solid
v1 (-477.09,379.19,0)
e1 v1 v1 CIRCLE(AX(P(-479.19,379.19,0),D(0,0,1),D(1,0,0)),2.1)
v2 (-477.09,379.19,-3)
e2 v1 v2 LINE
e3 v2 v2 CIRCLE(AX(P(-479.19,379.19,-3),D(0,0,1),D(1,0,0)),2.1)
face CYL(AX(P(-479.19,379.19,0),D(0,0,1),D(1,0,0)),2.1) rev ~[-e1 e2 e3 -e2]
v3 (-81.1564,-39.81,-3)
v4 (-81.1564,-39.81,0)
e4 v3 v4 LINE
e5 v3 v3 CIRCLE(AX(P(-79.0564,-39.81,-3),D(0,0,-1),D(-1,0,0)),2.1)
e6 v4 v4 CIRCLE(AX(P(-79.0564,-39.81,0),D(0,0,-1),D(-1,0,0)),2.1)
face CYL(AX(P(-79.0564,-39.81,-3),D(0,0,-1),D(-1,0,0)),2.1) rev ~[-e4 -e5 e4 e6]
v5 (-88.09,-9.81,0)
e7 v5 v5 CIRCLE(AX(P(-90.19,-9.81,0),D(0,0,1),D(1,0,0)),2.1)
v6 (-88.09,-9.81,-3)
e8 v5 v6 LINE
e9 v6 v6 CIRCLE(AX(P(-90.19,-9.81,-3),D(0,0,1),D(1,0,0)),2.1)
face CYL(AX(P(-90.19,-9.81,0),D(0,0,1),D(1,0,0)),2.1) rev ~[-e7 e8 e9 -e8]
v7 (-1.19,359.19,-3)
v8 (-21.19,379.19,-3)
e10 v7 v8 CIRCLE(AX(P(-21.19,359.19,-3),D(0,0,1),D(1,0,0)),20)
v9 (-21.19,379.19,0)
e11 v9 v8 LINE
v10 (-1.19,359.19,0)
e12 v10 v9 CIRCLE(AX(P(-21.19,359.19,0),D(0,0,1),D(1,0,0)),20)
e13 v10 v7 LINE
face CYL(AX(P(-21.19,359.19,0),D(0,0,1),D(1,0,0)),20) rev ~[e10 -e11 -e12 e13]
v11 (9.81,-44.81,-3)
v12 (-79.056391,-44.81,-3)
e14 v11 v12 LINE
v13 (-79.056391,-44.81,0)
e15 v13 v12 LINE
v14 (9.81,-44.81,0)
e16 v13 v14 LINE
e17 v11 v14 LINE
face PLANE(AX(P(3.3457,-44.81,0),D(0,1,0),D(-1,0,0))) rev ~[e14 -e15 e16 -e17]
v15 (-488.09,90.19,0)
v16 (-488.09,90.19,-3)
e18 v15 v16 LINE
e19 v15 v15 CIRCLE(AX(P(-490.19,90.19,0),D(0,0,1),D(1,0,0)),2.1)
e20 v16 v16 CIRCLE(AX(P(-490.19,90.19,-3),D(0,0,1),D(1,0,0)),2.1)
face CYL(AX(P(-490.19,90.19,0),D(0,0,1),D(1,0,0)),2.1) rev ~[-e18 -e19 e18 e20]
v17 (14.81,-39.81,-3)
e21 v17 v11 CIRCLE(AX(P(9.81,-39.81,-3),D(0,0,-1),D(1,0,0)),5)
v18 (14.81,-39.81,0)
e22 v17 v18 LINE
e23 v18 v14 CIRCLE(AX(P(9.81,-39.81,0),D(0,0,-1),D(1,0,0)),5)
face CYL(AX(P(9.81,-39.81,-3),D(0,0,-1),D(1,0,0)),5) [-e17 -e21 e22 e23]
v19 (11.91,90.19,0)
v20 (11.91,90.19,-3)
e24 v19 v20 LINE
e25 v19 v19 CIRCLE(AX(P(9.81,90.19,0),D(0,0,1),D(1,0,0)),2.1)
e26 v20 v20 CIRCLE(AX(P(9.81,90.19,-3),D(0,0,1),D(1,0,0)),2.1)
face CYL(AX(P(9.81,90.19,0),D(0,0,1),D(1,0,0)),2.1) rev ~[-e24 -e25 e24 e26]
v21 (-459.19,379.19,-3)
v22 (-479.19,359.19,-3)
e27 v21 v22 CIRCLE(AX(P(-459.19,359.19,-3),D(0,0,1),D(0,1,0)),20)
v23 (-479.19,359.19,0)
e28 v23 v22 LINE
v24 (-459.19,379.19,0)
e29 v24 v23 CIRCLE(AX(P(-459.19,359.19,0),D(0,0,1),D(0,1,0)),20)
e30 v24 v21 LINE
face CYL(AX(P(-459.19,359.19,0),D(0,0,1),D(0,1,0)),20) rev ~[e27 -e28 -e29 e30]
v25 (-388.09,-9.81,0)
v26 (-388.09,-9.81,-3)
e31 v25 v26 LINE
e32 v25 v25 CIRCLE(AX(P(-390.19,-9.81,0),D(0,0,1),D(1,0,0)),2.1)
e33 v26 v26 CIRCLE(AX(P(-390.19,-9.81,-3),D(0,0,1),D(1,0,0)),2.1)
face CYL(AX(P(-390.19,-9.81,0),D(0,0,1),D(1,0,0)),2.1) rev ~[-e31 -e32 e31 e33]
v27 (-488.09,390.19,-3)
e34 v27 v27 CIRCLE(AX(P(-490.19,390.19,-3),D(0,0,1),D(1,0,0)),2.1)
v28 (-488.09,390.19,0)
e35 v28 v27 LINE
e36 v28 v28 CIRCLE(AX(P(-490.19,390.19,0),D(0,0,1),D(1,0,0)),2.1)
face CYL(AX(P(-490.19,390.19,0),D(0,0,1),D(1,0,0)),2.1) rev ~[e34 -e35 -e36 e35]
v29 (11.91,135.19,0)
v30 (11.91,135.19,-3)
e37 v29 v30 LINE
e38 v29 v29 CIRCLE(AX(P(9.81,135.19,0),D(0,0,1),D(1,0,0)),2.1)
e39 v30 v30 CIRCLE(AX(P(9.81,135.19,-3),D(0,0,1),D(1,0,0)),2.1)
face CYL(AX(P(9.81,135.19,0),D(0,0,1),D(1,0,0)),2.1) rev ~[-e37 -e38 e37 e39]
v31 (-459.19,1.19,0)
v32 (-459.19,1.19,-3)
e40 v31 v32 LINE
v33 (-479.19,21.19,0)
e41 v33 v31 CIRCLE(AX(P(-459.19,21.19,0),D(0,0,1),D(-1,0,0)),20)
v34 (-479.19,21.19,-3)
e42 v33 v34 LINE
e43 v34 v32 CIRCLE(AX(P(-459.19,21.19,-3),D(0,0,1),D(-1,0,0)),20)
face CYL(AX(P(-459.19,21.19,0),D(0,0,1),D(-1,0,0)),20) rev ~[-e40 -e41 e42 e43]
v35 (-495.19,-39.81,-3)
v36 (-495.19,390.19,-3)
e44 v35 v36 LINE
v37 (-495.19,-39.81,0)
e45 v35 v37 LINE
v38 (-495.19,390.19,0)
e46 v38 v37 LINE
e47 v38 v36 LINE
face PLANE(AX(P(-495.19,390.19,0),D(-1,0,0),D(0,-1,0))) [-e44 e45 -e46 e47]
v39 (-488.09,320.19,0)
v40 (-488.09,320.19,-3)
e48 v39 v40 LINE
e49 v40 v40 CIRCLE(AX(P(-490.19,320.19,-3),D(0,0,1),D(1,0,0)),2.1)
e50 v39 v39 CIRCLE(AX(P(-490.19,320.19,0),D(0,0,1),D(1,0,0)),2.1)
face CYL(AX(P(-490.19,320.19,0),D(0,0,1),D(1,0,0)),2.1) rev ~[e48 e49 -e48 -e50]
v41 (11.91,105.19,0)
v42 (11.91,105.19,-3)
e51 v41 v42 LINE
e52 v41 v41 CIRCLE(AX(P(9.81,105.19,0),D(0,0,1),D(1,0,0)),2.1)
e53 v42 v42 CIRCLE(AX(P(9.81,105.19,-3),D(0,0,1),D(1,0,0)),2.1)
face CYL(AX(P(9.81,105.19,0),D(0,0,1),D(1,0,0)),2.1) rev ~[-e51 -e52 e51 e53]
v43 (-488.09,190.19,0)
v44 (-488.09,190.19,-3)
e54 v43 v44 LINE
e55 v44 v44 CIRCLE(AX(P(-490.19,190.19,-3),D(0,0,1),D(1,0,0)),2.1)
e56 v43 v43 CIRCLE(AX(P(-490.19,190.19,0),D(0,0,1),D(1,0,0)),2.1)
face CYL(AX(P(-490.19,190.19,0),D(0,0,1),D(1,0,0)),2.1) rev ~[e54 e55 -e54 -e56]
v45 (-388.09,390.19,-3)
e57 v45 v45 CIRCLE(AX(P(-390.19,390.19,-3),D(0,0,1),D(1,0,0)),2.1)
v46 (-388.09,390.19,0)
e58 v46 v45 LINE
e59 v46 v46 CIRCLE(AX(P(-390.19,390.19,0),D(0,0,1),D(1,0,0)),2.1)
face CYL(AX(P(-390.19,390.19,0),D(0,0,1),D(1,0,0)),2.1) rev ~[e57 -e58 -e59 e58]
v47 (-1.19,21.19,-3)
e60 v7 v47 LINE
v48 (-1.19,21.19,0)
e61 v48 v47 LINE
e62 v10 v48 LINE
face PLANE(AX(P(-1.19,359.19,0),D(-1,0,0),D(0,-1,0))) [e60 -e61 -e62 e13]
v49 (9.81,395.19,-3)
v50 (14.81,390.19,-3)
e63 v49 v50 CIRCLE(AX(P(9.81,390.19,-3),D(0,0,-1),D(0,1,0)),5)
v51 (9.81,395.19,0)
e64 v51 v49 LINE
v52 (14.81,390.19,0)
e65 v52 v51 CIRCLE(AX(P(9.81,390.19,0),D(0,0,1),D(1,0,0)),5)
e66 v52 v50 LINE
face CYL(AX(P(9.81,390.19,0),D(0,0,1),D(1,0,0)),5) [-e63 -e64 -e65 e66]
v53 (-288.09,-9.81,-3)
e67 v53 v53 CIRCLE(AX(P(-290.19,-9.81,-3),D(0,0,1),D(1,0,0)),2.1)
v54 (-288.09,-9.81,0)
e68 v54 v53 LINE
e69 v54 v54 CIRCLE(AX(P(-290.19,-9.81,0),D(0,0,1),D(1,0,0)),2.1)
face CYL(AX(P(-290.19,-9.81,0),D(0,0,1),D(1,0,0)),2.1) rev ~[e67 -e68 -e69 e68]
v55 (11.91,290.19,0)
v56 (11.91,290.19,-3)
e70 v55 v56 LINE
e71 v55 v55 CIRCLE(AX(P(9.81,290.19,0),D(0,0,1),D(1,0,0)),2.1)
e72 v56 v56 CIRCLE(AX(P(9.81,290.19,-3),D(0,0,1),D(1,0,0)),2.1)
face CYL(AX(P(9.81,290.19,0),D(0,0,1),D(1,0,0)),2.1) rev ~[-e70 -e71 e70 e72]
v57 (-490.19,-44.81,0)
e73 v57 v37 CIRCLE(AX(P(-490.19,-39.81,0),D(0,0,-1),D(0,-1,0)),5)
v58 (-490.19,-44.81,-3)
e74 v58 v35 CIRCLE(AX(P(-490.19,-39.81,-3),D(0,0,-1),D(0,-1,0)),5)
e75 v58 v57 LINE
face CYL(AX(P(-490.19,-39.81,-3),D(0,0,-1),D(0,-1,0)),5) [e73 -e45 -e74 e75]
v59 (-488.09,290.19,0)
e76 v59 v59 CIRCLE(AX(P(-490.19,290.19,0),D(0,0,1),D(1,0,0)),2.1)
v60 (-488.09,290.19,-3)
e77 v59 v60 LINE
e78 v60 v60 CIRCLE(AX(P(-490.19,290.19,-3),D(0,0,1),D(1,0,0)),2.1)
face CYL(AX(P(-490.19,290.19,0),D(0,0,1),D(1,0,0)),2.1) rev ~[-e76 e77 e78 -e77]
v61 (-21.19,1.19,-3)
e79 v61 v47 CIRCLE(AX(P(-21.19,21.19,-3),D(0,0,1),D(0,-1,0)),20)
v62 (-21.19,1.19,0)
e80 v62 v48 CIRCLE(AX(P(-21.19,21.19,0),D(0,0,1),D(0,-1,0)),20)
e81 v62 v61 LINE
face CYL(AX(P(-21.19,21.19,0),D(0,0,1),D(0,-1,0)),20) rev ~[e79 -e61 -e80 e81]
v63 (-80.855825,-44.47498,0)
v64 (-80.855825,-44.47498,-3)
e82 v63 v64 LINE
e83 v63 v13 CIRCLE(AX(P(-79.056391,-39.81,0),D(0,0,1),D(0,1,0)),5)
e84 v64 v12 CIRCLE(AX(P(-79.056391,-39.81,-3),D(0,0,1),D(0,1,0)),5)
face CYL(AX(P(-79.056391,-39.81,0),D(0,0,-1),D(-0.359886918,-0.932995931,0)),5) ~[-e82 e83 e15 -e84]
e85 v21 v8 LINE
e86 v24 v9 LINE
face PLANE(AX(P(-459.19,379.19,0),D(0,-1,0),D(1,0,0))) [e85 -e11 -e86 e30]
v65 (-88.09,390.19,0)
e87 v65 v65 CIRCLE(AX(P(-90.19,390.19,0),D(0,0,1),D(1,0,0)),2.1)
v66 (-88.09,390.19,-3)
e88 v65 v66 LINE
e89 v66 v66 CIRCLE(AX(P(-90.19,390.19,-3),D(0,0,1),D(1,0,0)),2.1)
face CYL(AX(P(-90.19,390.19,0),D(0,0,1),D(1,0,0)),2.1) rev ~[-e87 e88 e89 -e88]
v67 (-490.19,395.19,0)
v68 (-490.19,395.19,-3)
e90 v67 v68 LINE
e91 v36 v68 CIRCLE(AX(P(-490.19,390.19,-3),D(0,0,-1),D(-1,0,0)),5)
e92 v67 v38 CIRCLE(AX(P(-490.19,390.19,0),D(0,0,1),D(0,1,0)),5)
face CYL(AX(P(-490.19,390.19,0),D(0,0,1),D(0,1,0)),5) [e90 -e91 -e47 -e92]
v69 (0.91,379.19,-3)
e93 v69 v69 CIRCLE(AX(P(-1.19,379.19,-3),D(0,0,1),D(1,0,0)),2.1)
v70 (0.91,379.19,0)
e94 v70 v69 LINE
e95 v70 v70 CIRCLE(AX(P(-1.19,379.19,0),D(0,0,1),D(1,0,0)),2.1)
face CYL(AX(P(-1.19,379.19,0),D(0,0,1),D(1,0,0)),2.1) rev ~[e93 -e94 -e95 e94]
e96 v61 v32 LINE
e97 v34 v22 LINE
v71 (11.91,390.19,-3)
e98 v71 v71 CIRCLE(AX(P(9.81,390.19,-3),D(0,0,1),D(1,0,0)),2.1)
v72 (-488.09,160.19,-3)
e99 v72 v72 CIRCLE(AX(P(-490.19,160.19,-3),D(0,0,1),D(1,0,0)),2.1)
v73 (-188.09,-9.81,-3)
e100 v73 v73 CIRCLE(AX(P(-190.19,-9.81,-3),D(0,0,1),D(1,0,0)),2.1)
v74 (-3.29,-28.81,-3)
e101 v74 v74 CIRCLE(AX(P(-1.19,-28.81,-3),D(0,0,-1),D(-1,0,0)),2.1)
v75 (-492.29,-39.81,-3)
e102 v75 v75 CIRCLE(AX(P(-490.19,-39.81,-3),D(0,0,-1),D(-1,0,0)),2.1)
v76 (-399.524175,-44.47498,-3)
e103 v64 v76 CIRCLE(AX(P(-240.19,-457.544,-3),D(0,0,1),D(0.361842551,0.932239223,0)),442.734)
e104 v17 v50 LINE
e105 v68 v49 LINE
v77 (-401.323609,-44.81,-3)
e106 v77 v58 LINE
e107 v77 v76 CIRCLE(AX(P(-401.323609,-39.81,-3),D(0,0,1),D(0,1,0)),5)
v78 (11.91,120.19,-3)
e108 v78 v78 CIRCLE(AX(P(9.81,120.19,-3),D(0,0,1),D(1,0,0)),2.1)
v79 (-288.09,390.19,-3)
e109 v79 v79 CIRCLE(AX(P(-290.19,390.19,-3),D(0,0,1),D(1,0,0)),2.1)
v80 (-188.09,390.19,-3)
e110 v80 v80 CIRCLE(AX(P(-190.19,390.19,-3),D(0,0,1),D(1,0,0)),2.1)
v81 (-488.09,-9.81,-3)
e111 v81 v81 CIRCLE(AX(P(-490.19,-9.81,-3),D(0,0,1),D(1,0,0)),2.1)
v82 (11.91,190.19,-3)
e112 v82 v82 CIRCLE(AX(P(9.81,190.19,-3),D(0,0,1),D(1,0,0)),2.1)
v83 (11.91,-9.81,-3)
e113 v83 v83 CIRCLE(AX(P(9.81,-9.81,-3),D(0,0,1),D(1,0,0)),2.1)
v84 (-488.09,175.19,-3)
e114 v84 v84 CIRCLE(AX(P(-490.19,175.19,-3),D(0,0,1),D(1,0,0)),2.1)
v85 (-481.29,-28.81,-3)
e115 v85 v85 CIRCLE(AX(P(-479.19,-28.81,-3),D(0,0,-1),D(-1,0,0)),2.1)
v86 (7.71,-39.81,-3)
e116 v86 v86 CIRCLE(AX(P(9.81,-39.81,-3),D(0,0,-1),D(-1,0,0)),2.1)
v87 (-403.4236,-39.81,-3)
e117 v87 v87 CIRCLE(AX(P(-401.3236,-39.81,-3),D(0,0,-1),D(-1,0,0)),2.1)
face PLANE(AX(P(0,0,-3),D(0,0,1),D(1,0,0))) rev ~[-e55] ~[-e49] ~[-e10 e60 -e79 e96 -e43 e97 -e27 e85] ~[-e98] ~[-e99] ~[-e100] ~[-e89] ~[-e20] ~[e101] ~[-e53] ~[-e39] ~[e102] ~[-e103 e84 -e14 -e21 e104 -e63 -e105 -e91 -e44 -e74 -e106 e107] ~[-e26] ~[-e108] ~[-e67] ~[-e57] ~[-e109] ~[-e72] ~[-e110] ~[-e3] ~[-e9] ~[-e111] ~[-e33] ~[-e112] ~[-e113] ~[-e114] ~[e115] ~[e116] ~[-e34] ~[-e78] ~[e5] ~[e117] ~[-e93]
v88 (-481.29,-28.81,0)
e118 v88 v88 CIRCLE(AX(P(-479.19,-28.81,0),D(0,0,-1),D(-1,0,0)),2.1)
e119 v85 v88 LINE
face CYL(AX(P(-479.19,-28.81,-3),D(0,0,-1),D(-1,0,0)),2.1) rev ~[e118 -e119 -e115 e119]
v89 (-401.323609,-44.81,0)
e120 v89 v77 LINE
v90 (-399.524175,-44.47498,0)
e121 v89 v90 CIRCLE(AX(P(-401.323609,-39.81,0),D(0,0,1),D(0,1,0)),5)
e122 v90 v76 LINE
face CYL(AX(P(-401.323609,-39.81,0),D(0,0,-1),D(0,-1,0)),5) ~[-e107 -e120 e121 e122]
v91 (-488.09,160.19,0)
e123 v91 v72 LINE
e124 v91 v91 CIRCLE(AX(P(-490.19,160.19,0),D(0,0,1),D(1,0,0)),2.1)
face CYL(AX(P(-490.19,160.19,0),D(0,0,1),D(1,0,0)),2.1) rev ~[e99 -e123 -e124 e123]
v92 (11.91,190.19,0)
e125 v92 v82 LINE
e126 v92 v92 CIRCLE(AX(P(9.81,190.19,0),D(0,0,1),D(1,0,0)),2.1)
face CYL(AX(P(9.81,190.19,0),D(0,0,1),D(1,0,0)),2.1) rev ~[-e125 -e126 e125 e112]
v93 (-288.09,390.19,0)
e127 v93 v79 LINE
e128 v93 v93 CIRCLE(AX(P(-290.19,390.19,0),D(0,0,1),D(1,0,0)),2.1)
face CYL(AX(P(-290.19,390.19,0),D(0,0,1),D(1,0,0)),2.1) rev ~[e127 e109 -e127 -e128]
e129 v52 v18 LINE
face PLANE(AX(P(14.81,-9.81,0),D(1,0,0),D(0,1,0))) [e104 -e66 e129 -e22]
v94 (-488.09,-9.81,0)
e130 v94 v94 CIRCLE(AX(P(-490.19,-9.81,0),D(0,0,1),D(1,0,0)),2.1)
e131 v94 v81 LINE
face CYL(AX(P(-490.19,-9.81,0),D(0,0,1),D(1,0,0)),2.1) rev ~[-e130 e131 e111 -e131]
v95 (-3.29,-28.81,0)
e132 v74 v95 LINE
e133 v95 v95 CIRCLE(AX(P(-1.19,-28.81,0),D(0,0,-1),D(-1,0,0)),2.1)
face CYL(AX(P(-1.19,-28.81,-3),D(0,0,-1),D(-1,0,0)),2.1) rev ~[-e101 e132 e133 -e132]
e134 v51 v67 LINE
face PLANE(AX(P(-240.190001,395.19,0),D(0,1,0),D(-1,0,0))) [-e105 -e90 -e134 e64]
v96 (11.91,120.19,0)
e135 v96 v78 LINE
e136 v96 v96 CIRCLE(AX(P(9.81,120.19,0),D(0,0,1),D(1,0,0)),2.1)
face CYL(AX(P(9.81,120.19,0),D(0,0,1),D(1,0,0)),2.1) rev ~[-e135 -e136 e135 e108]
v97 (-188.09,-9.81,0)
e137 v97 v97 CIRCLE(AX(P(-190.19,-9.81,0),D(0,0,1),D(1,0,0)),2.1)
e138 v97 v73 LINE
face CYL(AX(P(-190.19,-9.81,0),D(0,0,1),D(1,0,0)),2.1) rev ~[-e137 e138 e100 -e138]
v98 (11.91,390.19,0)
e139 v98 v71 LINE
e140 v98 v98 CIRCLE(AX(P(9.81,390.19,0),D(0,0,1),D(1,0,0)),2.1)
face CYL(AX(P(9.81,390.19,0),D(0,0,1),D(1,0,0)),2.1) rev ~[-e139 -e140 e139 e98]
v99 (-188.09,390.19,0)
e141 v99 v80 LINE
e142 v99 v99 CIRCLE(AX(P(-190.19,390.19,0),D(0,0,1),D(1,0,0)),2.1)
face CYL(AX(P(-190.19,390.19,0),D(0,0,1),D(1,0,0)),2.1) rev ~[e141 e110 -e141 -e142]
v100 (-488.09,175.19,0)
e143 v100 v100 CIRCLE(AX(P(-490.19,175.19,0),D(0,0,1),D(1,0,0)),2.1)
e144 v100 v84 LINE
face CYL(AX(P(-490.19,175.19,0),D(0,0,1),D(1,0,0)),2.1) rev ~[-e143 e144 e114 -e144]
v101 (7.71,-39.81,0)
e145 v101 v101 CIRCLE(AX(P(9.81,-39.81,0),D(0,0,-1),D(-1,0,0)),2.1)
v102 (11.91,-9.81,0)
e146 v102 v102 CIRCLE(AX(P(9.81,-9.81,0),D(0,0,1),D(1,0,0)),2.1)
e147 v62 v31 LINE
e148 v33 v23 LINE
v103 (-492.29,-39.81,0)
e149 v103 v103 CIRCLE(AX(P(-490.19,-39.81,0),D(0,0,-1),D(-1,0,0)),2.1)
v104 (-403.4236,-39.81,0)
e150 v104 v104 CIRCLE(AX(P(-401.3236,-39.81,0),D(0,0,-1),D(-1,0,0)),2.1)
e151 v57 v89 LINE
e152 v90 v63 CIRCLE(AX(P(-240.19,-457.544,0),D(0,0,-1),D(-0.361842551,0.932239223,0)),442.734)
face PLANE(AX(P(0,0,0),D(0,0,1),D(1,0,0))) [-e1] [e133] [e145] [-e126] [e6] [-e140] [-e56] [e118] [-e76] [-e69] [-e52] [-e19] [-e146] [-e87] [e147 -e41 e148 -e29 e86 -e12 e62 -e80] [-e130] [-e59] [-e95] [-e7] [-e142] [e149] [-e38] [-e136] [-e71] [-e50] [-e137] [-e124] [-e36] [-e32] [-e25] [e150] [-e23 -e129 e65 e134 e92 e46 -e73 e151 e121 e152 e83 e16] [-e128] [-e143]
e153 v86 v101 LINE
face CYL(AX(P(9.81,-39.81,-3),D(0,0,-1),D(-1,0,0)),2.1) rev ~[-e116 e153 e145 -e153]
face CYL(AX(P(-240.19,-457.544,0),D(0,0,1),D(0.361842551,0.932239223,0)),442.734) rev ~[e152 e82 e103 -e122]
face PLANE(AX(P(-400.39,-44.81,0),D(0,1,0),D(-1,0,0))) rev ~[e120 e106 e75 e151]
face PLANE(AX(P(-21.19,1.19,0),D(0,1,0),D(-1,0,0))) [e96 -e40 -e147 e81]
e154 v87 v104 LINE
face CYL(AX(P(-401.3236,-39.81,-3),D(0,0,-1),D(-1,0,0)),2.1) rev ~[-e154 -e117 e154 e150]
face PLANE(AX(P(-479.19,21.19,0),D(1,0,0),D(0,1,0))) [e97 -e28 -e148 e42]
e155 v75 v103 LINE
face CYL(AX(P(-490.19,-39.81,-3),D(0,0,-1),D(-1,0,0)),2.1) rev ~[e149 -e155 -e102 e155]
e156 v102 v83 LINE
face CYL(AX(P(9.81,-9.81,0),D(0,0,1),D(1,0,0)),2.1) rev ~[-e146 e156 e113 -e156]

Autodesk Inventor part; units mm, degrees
ref_plane "YZ Plane" through (0, 0, 0) normal (1, 0, 0) x (0, 1, 0)
ref_plane "XZ Plane" through (0, 0, 0) normal (0, 1, 0) x (-1, 0, 0)
ref_plane "XY Plane" through (0, 0, 0) normal (0, 0, 1) x (1, 0, 0)
sketch "スケッチ1" plane through (0, 0, 0) normal (0, 0, 1) x (1, 0, 0)
  circle A0 centre (-490.19, 90.19) radius 2.1 projected
  circle A1 centre (-490.19, 290.19) radius 2.1 projected
  circle A2 centre (-190.19, 390.19) radius 2.1 projected
  circle A3 centre (-390.19, 390.19) radius 2.1 projected
  circle A4 centre (-290.19, -9.81) radius 2.1 projected
  circle A5 centre (-90.19, -9.81) radius 2.1 projected
  circle A6 centre (9.81, 190.19) radius 2.1 projected
  circle A7 centre (9.81, 390.19) radius 2.1 projected
  circle A8 centre (-490.19, -9.81) radius 2.1 projected
  circle A9 centre (-233.68, 12.7) radius 1.6 construction
  circle A10 centre (-29.21, 294.64) radius 1.6 construction
  circle A11 centre (-161.29, 294.64) radius 1.6 construction
  circle A12 centre (-233.68, 294.64) radius 1.6 construction
  circle A13 centre (-233.68, 137.16) radius 1.6 construction
  circle A14 centre (-161.29, 137.16) radius 1.6 construction
  circle A15 centre (-6.35, 137.16) radius 1.6 construction
  circle A16 centre (-6.35, 12.7) radius 1.6 construction
  circle A17 centre (-161.29, 12.7) radius 1.6 construction
  circle A18 centre (9.81, -9.81) radius 2.1 projected
  circle A19 centre (-490.19, 390.19) radius 2.1 projected
  circle A20 centre (9.81, 290.19) radius 2.1 projected
  circle A21 centre (9.81, 90.19) radius 2.1
  circle A22 centre (-190.19, -9.81) radius 2.1 projected
  circle A23 centre (-390.19, -9.81) radius 2.1 projected
  circle A24 centre (-290.19, 390.19) radius 2.1 projected
  circle A25 centre (-90.19, 390.19) radius 2.1 projected
  circle A26 centre (-490.19, 190.19) radius 2.1 projected
  line L0 (-21.19, 1.19) -> (-459.19, 1.19)
  line L1 (-479.19, 21.19) -> (-479.19, 359.19)
  line L2 (-459.19, 379.19) -> (-21.19, 379.19)
  line L3 (-1.19, 359.19) -> (-1.19, 21.19)
  circle A27 centre (9.81, -9.81) radius 5
  circle A28 centre (9.81, -9.81) radius 15.5563 construction
  line L4 (9.81, -9.81) -> (-1.19, 1.19) construction
  line L5 (9.81, -9.81) -> (25.3663, -9.81) construction
  circle A29 centre (-1.19, 1.19) radius 5 construction
  circle A30 centre (-1.19, 1.19) radius 2.1
  line L6 (-240.19, 1.19) -> (-240.19, 379.19) construction
  line L7 (-1.19, 190.19) -> (-479.19, 190.19) construction
  circle A31 centre (-1.19, 379.19) radius 2.1
  circle A32 centre (-479.19, 1.19) radius 2.1
  circle A33 centre (-479.19, 379.19) radius 2.1
  arc A34 (-1.19, 359.19) -> (-21.19, 379.19) centre (-21.19, 359.19) ccw
  arc A35 (-459.19, 379.19) -> (-479.19, 359.19) centre (-459.19, 359.19) ccw
  arc A36 (-479.19, 21.19) -> (-459.19, 1.19) centre (-459.19, 21.19) ccw
  arc A37 (-21.19, 1.19) -> (-1.19, 21.19) centre (-21.19, 21.19) ccw
  line L8 (9.81, -4.81) -> (-11.2166, -4.81) construction
  arc A38 (-483.7257, 425.19) -> (-483.7257, -44.81) centre (161.4767, 190.19) ccw projected
  line L9 (-483.7257, 425.19) -> (-379.99, 425.19) projected
  arc A39 (-379.99, 425.19) -> (-100.39, 425.19) centre (-240.19, 735.924) ccw projected
  line L10 (-100.39, 425.19) -> (3.3457, 425.19) projected
  arc A40 (3.3457, -44.81) -> (3.3457, 425.19) centre (-641.8567, 190.19) ccw projected
  line L11 (3.3457, -44.81) -> (-79.99, -44.81) projected
  arc A41 (-79.99, -44.81) -> (-400.39, -44.81) centre (-240.19, -457.544) ccw projected
  line L12 (-400.39, -44.81) -> (-483.7257, -44.81) projected
  arc A42 (14.81, 390.19) -> (9.81, 395.19) centre (9.81, 390.19) ccw
  line L13 (9.81, 395.19) -> (-490.19, 395.19)
  line L14 (14.81, -9.81) -> (14.81, 390.19)
  arc A43 (9.81, -14.81) -> (14.81, -9.81) centre (9.81, -9.81) ccw construction
  line L15 (-490.19, -14.81) -> (9.81, -14.81)
  arc A44 (-495.19, -9.81) -> (-490.19, -14.81) centre (-490.19, -9.81) ccw
  line L16 (-495.19, 390.19) -> (-495.19, -9.81)
  arc A45 (-490.19, 395.19) -> (-495.19, 390.19) centre (-490.19, 390.19) ccw
  point P0 (0, 0)
  point P1 (-1.19, 1.19)
  point P2 (-479.19, 379.19)
  point P3 (-479.19, 1.19)
  point P4 (-1.19, 379.19)
  point P5 (14.59, -11.277)
  point P6 (-494.97, 391.657)
  point P7 (-494.97, -11.277)
  dimension "d4" = 31.1127
  dimension "d5" = 135
  dimension "d6" = 10
  dimension "d10" = 20
  dimension "d11" = 6
  dimension "d14" = 11
  dimension "d15" = 11
  dimension "d16" = 11
  dimension "d17" = 11
  dimension "d18" = 11
  dimension "d30" = 100
extrude "押し出し1" add sketch "スケッチ1" against normal blind 3 contours A27 | A27 L15 A44 L16 A45 L13 A42 L14 | A27 A40 L11 A41 L15 | A41 L12 A38 A44 L15 | A30 | A32
sketch "スケッチ3" plane through (0, 0, -3) normal (0, 0, -1) x (-1, 0, 0)
  arc A0 (-14.81, -9.81) -> (-14.59, -11.277) centre (-9.81, -9.81) ccw projected
  arc A1 (-14.59, -11.277) -> (-3.3457, -44.81) centre (641.8567, 190.19) ccw projected
  arc A2 (483.7257, -44.81) -> (494.97, -11.277) centre (-161.4767, 190.19) ccw projected
  arc A3 (494.97, -11.277) -> (495.19, -9.81) centre (490.19, -9.81) ccw projected
  line L0 (-14.81, -9.81) -> (-14.81, -39.81)
  arc A4 (-14.81, -39.81) -> (-9.81, -44.81) centre (-9.81, -39.81) ccw
  line L1 (79.99, -44.81) -> (-3.3457, -44.81) projected
  line L2 (-9.81, -44.81) -> (-3.3457, -44.81)
  line L3 (495.19, -9.81) -> (495.19, -39.81)
  arc A5 (490.19, -44.81) -> (495.19, -39.81) centre (490.19, -39.81) ccw
  line L4 (490.19, -44.81) -> (483.7257, -44.81)
  point P0 (0, 0)
  dimension "d19" = 5
extrude "押し出し3" add sketch "スケッチ3" against normal up to surface (3 mm away)
fillet "フィレット2" radius 5 2 edges at (-79.99, -44.81, -1.5) (-400.39, -44.81, -1.5)
sketch "スケッチ4" plane through (0, 0, -3) normal (0, 0, -1) x (-1, 0, 0)
  arc A0 (-14.81, -39.81) -> (-9.81, -44.81) centre (-9.81, -39.81) ccw construction
  circle A1 centre (-9.81, -9.81) radius 2.1 construction
  arc A2 (490.19, -44.81) -> (495.19, -39.81) centre (490.19, -39.81) ccw construction
  circle A3 centre (490.19, -9.81) radius 2.1 construction
  line L0 (-9.81, -9.81) -> (1.19, 1.19) construction
  line L1 (1.19, 1.19) -> (1.19, -28.81) construction
  line L2 (1.19, -28.81) -> (-9.81, -39.81) construction
  line L3 (-9.81, -39.81) -> (-9.81, -9.81) construction
  line L4 (479.19, 1.19) -> (490.19, -9.81) construction
  line L5 (490.19, -9.81) -> (490.19, -39.81) construction
  line L6 (490.19, -39.81) -> (479.19, -28.81) construction
  line L7 (479.19, -28.81) -> (479.19, 1.19) construction
  circle A4 centre (-9.81, -39.81) radius 2.1
  circle A5 centre (490.19, -39.81) radius 2.1
  arc A6 (79.0564, -44.81) -> (80.8558, -44.475) centre (79.0564, -39.81) ccw construction
  arc A7 (399.5242, -44.475) -> (401.3236, -44.81) centre (401.3236, -39.81) ccw construction
  circle A8 centre (401.3236, -39.81) radius 2.1
  circle A9 centre (79.0564, -39.81) radius 2.1
  circle A10 centre (1.19, -28.81) radius 2.1
  circle A11 centre (479.19, -28.81) radius 2.1
  dimension "d27" = 11
  dimension "d28" = 11
  dimension "d29" = 45
extrude "押し出し4" cut sketch "スケッチ4" against normal through all
sketch "スケッチ5" plane through (0, 0, 0) normal (0, 0, 1) x (1, 0, 0)
  circle A0 centre (-490.19, 290.19) radius 2.1 construction
  circle A1 centre (-490.19, 190.19) radius 2.1 construction
  circle A2 centre (9.81, 90.19) radius 2.1 construction
  line L0 (9.81, 90.19) -> (9.81, 120.19) construction
  line L1 (-490.19, 290.19) -> (-490.19, 320.19) construction
  line L2 (-490.19, 190.19) -> (-490.19, 160.19) construction
  circle A3 centre (-490.19, 320.19) radius 2.1
  circle A4 centre (-490.19, 160.19) radius 2.1
  circle A5 centre (9.81, 120.19) radius 2.1
  circle A6 centre (9.81, 105.19) radius 2.1
  circle A7 centre (9.81, 135.19) radius 2.1
  circle A8 centre (-490.19, 175.19) radius 2.1
  dimension "d34" = 30
  dimension "d35" = 15
extrude "押し出し5" cut sketch "スケッチ5" against normal blind 30
equation "\"d35\" = 0.5 * d34"
equation "\"d32\" = d34"
properties part number "left_plate_01"
